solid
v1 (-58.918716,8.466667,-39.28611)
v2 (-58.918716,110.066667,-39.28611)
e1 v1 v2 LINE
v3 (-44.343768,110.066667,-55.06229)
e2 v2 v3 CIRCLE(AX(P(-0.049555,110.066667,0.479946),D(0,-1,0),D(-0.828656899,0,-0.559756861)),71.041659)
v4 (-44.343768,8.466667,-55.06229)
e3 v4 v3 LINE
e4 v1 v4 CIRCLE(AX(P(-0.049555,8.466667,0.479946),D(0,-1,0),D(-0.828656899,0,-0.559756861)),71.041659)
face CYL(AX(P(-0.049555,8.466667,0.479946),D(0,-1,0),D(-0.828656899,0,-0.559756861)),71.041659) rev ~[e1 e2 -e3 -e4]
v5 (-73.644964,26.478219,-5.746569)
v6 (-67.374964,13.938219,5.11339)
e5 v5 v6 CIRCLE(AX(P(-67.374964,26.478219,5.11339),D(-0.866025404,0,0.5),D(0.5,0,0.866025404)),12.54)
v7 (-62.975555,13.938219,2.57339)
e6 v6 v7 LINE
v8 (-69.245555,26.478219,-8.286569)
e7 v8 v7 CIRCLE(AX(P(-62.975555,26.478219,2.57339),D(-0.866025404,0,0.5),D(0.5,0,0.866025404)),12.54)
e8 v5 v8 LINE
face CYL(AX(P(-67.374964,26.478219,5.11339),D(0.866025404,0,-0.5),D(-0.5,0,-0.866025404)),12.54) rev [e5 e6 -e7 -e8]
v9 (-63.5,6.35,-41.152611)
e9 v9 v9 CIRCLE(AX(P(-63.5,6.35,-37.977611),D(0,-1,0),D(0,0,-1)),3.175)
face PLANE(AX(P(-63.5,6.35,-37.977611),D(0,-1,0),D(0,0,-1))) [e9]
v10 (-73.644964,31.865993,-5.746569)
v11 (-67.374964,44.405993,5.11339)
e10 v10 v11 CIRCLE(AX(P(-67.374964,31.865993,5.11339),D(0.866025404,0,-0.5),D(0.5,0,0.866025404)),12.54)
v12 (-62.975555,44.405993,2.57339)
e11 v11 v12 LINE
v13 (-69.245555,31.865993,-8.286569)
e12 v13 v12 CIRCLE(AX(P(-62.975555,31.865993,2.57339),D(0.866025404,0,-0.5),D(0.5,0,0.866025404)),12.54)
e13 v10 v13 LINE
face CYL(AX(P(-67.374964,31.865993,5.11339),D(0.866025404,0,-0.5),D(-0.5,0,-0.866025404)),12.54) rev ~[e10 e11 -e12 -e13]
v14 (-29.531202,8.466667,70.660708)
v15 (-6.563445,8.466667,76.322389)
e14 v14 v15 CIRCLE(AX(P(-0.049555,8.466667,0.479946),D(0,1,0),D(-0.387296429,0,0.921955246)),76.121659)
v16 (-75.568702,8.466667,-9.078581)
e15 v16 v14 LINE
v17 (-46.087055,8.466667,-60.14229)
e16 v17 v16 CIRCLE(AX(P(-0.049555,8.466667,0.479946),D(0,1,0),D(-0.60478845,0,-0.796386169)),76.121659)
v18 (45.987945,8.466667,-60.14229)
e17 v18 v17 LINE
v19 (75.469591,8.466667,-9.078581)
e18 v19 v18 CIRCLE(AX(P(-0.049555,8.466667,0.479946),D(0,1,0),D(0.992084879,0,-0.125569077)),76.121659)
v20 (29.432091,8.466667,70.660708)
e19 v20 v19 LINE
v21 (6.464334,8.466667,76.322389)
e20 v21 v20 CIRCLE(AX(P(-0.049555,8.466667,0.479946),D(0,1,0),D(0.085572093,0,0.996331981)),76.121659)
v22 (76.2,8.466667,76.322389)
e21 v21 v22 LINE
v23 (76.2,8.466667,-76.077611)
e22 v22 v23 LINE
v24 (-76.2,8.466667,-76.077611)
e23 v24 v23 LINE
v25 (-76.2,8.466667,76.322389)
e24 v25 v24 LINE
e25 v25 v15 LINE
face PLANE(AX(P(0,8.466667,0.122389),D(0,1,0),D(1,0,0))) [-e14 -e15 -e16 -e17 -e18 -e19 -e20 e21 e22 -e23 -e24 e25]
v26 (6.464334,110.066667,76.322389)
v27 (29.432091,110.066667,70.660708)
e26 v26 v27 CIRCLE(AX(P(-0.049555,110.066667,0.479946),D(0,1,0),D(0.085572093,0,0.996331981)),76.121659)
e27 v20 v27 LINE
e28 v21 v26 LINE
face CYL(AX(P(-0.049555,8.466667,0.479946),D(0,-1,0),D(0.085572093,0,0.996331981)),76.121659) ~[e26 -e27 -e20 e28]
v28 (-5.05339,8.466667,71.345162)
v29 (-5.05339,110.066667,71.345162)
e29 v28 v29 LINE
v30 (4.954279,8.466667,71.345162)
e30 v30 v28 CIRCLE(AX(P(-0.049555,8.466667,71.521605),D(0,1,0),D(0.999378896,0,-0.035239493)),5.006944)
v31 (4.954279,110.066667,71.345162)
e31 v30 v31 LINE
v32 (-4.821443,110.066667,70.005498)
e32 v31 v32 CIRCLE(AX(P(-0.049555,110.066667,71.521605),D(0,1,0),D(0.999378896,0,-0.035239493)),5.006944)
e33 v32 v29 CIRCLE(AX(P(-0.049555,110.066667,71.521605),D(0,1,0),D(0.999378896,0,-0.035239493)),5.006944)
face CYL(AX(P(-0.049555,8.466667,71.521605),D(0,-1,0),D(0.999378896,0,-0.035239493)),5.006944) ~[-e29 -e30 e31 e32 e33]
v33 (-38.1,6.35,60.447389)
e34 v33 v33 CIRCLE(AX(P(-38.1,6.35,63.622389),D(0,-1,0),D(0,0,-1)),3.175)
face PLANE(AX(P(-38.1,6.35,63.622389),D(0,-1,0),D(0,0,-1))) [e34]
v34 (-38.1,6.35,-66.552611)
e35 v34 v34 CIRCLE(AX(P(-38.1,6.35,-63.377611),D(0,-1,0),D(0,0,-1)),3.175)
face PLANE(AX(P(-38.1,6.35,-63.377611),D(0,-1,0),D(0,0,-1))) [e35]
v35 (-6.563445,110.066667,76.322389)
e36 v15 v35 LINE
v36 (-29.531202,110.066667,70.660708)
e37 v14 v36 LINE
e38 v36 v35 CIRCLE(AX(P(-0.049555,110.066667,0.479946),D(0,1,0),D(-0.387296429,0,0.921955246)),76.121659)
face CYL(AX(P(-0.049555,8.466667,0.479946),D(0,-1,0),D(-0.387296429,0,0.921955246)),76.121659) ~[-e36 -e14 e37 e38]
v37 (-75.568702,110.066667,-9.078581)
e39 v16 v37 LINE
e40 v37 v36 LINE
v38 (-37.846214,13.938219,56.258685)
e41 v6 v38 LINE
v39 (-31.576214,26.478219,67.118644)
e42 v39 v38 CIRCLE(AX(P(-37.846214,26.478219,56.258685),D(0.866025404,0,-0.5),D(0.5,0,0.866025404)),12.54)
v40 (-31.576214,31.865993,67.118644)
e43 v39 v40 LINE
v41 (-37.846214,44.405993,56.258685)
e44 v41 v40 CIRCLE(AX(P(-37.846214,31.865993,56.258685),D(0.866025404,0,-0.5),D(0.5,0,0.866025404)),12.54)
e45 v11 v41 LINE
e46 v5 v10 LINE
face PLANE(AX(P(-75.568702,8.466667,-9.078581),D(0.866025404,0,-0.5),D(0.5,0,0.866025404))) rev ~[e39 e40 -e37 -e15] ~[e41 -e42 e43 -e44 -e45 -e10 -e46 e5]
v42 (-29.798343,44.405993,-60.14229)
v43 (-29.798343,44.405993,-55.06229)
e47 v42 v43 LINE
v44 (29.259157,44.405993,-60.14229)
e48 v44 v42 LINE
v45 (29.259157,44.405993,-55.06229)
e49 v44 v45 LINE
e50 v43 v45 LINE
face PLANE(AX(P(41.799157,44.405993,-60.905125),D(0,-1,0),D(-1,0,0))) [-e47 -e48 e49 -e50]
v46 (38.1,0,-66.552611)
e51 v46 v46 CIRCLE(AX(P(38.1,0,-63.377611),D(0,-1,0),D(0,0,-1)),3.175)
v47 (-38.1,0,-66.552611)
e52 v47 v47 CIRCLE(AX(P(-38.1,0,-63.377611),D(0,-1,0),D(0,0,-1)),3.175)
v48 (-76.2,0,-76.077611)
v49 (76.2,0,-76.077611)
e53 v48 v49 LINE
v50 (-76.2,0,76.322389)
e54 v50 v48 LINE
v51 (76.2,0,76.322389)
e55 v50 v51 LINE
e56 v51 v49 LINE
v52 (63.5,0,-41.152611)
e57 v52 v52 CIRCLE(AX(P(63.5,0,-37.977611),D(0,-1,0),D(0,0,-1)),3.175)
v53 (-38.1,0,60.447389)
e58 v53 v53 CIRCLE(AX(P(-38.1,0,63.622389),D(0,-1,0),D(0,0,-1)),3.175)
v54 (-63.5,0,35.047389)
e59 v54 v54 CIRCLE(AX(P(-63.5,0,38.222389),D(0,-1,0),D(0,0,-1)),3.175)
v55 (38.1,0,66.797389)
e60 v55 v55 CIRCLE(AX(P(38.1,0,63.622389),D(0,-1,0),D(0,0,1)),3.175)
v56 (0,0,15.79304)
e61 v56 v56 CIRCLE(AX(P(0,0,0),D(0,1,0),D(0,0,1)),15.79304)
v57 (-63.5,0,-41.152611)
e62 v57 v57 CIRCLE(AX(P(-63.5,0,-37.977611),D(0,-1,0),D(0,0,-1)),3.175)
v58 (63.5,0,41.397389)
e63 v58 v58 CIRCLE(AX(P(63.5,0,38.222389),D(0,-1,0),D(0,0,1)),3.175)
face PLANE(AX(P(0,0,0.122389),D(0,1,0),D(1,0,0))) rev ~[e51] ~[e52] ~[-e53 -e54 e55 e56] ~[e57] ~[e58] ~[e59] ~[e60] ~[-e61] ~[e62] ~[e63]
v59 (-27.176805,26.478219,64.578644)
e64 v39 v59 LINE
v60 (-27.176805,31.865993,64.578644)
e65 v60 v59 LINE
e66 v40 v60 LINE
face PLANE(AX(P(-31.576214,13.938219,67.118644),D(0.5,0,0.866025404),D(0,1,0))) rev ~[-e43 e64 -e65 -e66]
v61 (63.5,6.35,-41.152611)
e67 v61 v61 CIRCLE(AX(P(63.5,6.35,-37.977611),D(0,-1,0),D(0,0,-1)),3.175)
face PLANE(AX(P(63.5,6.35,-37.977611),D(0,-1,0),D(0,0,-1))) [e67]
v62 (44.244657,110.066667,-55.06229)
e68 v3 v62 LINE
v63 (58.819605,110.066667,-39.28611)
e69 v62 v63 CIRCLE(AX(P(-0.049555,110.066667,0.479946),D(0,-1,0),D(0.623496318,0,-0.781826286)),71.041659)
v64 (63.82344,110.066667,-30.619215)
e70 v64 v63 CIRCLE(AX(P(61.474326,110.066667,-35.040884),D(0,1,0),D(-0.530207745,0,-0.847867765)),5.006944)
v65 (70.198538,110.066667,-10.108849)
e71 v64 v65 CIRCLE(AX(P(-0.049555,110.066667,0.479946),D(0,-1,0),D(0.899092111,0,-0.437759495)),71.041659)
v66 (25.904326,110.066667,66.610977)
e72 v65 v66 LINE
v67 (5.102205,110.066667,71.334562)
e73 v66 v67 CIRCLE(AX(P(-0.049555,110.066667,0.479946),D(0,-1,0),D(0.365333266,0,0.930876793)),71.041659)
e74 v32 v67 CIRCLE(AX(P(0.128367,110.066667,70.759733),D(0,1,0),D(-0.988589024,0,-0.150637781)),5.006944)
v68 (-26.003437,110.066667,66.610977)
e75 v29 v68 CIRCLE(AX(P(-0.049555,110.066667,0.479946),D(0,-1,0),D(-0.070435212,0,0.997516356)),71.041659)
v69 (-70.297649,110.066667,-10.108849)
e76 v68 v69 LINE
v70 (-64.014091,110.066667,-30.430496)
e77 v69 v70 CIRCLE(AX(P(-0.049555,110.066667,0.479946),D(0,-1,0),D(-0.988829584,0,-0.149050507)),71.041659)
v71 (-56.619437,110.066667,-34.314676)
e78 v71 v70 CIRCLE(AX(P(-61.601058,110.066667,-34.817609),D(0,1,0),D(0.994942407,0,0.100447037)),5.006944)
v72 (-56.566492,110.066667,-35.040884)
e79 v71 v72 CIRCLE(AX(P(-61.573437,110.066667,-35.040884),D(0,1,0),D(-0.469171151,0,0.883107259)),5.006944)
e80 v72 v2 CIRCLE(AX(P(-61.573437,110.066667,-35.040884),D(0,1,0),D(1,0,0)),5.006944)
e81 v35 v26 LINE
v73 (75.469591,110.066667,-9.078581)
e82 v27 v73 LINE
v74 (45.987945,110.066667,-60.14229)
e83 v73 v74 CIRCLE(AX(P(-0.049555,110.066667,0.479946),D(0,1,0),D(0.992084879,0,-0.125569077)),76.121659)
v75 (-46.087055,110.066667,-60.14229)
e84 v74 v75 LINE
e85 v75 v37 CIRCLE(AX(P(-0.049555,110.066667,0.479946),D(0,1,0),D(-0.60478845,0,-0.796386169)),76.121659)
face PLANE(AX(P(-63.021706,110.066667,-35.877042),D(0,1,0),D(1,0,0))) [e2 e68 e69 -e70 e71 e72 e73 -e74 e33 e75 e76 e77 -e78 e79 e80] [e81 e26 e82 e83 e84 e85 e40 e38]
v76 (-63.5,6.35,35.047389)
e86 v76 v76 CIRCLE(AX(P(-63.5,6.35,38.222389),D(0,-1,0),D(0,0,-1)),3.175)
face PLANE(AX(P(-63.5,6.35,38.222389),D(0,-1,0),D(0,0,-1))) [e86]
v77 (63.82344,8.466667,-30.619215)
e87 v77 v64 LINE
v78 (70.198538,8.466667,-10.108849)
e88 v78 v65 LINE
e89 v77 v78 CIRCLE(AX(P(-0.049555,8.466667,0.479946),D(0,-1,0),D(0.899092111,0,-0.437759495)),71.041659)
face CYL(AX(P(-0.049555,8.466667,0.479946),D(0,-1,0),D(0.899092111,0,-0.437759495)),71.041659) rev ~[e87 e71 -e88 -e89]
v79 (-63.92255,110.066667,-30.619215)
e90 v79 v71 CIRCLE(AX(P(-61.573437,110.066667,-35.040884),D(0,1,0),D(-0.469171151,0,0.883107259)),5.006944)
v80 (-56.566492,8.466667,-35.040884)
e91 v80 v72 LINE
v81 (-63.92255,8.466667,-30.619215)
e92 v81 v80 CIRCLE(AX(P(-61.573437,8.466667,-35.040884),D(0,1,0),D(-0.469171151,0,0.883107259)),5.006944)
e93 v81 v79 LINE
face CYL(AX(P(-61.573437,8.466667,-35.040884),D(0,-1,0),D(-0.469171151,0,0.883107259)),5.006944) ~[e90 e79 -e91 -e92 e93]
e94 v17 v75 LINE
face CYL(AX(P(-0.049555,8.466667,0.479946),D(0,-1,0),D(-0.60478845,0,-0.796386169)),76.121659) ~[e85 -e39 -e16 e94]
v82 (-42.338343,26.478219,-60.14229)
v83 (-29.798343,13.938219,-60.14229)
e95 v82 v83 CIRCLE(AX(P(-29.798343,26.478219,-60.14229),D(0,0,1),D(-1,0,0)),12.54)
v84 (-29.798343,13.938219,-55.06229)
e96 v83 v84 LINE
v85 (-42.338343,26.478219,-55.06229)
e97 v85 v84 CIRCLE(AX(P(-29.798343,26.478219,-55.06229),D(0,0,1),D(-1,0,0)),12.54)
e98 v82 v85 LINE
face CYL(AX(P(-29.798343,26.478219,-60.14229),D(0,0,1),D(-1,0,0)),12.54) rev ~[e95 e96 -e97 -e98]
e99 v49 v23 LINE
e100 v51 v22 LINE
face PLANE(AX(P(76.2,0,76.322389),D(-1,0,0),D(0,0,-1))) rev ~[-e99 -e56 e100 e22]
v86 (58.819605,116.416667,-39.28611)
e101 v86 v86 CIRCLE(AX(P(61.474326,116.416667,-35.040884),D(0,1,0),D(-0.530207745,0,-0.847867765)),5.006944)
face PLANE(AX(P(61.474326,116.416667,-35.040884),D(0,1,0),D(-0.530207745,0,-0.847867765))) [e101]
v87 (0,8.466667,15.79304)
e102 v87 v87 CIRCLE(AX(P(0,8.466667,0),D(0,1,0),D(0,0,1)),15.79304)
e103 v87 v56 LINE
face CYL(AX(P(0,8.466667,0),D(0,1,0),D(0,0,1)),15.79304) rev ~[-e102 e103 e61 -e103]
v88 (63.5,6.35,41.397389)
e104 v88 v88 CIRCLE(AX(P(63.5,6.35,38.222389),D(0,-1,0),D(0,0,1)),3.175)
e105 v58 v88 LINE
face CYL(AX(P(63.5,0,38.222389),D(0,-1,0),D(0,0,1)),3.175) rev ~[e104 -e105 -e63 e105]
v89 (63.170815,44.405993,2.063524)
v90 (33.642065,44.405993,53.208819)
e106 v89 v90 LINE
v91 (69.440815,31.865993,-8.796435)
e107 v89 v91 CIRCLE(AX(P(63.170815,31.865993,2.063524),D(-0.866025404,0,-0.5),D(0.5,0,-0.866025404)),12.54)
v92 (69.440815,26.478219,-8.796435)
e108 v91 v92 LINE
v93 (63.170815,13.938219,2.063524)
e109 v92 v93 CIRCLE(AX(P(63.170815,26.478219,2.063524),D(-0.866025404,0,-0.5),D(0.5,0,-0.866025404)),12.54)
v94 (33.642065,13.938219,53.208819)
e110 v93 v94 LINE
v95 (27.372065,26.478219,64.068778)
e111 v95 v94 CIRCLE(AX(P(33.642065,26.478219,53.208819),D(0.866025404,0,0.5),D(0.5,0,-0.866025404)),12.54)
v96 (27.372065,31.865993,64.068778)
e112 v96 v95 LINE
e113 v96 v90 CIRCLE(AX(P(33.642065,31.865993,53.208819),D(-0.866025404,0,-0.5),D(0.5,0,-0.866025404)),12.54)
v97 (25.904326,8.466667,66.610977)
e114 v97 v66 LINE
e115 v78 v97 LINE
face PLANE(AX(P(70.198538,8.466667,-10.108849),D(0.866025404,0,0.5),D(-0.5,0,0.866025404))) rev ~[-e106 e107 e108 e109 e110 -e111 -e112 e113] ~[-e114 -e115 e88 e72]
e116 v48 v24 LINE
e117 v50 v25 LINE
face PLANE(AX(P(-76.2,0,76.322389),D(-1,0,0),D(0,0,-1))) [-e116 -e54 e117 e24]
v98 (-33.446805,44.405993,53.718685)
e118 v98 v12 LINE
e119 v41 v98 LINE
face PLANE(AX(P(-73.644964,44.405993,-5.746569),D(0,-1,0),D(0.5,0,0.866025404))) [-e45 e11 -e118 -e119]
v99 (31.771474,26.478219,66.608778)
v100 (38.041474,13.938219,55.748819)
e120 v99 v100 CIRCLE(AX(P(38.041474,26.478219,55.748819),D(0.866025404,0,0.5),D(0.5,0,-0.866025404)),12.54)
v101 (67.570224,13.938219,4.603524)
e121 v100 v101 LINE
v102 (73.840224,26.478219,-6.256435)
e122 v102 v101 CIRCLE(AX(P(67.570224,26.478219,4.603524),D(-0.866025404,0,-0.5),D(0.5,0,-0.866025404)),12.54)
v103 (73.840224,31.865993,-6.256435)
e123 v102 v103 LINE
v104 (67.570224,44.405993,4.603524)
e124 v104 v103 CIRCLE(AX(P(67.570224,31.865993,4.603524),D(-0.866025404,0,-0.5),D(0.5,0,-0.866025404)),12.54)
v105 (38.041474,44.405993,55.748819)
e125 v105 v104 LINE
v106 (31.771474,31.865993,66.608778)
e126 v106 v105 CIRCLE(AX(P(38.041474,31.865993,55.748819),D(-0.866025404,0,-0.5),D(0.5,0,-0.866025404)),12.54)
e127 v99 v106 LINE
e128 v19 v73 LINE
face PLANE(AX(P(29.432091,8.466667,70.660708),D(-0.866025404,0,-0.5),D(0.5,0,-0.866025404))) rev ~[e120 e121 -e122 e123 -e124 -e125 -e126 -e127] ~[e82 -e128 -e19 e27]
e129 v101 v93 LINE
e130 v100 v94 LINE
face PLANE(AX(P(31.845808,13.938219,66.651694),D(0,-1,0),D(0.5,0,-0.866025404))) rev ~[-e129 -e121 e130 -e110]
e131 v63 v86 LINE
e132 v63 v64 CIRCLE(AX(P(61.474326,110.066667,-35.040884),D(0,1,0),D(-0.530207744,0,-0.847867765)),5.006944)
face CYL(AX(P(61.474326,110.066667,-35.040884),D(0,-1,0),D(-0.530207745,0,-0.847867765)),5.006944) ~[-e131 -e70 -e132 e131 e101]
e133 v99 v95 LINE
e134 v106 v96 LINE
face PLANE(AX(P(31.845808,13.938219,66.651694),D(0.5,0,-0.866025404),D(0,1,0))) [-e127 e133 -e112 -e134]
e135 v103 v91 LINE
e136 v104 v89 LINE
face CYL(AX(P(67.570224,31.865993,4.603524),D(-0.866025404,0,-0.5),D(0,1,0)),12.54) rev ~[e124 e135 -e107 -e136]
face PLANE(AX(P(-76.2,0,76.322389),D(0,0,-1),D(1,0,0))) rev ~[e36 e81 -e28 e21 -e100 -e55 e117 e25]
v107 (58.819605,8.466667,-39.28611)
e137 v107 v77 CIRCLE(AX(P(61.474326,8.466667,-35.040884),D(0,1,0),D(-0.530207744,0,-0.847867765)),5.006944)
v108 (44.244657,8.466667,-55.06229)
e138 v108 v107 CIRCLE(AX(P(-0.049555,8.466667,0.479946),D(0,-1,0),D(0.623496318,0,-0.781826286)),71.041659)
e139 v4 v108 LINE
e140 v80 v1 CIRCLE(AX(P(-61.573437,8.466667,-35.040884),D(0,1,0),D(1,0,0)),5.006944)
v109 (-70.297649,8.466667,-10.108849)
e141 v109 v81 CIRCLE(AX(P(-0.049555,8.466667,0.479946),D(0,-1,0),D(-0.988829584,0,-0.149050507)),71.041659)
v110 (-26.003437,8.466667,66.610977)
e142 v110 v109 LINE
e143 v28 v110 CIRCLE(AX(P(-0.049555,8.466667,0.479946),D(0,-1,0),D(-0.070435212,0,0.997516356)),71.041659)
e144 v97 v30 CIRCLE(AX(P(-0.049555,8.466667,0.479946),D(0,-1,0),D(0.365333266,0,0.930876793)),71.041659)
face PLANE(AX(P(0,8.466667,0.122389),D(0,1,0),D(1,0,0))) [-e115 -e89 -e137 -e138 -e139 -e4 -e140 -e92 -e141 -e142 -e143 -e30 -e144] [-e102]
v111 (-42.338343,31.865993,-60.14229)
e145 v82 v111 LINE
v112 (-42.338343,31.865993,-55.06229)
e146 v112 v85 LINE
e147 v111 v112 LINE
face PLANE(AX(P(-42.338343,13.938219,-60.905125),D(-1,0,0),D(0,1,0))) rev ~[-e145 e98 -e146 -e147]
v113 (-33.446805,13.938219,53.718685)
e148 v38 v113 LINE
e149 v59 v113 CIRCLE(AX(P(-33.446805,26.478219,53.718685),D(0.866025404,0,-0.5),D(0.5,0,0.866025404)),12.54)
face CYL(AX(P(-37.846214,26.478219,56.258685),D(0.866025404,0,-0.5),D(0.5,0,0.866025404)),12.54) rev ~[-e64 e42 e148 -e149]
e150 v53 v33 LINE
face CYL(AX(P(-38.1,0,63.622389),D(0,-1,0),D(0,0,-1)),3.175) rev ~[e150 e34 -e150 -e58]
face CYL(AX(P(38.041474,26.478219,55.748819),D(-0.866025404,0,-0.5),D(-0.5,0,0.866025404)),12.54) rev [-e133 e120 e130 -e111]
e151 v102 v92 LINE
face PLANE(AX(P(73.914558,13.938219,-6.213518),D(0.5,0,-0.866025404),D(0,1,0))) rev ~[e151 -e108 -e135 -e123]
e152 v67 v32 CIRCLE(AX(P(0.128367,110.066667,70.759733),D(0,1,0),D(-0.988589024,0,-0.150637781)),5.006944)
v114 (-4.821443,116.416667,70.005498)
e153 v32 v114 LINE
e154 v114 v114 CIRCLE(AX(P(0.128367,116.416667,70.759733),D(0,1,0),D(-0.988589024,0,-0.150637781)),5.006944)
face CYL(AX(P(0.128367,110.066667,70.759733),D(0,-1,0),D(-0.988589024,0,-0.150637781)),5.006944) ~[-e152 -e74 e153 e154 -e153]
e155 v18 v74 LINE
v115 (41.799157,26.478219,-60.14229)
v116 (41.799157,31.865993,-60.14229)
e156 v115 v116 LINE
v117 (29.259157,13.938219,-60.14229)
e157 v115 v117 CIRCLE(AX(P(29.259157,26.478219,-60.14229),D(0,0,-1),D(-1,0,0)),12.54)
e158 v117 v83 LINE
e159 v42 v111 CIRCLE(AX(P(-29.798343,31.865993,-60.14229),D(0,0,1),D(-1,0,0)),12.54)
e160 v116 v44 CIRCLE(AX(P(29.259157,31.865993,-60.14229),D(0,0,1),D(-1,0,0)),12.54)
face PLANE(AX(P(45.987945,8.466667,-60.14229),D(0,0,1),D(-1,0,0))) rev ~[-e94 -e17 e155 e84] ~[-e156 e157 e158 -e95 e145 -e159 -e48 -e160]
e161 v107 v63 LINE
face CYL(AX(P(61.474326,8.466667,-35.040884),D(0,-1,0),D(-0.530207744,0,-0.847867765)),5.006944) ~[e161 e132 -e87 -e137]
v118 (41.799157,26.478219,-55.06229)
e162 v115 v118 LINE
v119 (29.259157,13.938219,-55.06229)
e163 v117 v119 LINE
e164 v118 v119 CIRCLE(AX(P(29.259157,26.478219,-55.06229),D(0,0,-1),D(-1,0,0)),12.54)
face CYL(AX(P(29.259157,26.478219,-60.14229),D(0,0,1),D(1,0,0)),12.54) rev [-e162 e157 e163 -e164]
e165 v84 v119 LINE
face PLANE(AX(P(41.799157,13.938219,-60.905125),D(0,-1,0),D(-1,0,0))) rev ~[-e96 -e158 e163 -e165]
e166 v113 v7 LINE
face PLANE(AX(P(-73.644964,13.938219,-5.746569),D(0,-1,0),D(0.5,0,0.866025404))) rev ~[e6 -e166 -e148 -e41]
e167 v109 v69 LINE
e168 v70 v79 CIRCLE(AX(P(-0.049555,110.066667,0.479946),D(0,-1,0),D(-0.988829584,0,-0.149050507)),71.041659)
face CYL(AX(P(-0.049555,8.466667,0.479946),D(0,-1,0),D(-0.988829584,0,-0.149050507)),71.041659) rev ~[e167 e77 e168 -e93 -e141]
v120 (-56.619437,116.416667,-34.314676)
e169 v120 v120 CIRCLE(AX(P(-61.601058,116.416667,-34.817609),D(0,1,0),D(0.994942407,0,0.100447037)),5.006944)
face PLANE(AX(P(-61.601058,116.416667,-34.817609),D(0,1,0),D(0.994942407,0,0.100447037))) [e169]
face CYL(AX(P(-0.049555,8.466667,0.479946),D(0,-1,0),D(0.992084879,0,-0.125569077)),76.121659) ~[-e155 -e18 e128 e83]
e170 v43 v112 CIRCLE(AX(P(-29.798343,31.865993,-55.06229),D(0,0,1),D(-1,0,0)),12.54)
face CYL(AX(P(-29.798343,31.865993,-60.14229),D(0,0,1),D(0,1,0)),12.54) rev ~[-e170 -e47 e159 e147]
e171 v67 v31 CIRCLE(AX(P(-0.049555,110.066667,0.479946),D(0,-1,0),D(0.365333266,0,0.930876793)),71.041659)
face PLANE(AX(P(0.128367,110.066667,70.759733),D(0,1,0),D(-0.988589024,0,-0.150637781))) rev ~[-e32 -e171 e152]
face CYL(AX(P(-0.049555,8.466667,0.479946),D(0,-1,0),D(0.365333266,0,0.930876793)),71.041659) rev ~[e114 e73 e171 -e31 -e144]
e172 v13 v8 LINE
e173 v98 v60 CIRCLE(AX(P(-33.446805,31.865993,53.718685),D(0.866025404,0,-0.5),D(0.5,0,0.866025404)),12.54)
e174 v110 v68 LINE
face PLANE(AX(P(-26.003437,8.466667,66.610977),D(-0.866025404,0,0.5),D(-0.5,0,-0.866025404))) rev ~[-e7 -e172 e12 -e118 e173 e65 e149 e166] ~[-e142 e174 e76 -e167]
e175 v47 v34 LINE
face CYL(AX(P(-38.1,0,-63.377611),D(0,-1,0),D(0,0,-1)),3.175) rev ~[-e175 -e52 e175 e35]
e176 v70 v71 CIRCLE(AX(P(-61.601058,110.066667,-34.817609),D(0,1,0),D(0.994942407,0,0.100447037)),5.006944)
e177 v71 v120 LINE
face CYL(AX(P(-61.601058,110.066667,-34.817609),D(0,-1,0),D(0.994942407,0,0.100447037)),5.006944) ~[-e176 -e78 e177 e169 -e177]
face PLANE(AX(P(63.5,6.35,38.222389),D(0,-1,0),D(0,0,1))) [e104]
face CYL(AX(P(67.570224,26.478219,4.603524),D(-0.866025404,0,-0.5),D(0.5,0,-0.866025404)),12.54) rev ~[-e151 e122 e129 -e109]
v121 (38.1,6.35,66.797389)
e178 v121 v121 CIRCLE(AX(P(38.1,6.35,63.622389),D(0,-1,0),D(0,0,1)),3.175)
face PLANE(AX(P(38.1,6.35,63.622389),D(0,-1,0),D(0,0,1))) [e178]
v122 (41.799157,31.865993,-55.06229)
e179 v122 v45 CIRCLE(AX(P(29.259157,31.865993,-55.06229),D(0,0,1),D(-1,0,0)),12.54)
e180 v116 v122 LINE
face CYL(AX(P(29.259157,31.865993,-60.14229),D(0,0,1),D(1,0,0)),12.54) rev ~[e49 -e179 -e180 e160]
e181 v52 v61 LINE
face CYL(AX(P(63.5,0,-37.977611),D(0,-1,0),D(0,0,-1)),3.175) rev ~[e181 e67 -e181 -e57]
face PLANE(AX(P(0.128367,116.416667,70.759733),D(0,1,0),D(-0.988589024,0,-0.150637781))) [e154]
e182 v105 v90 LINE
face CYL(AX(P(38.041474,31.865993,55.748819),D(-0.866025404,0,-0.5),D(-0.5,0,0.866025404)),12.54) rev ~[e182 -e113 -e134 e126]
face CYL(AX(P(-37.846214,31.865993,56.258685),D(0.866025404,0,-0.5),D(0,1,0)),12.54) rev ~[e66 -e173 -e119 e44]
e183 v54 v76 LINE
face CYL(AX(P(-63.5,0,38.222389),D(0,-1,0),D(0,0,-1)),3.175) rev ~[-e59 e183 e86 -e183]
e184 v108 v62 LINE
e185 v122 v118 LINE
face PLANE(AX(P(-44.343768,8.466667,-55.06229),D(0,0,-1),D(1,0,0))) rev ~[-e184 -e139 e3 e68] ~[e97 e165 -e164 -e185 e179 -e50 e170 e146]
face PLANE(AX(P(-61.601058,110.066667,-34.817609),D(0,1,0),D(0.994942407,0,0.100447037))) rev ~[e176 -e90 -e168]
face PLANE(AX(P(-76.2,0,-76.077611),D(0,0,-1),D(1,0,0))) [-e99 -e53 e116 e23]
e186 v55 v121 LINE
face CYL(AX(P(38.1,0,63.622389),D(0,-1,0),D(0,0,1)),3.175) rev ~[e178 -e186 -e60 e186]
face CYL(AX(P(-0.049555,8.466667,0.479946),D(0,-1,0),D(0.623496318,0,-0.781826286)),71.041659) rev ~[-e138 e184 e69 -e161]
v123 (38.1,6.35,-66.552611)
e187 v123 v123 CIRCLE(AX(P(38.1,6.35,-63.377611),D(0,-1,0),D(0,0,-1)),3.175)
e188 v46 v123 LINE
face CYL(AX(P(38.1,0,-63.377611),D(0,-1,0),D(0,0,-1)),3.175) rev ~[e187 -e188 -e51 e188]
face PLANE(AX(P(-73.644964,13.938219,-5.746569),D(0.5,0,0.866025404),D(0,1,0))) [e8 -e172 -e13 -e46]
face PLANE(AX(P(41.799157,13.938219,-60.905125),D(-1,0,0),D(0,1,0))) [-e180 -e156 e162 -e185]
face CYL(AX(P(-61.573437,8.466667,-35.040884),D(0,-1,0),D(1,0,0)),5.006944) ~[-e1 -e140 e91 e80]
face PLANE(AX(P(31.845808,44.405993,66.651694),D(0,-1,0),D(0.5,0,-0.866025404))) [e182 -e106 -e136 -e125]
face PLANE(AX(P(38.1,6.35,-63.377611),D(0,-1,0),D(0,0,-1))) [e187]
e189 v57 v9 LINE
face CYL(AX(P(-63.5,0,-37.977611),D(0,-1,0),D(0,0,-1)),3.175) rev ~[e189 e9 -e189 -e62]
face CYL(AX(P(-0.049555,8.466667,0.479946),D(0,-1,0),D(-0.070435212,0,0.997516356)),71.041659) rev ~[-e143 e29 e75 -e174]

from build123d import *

# Parameters (mm, degrees)
SKETCH1_W                = 152.4
SKETCH1_H                = 152.4
BOSS_EXTRUDE1_DEPTH      = 8.466666667
BOSS_EXTRUDE3_DEPTH      = 101.6
SKETCH4_R                = 5.006944118
BOSS_EXTRUDE4_DEPTH      = 6.35
CUT_EXTRUDE1_REACH       = 205.785
SKETCH6_W                = 84.1375
SKETCH6_H                = 30.46777391
FILLET1_R                = 12.54
CIRPATTERN3_COUNT        = 3
FILLET1_OF_CIRPATTERN3_R = 12.54
SKETCH8_R                = 3.175
CUT_EXTRUDE2_DEPTH       = 6.35
SKETCH9_R                = 15.793040305
CUT_EXTRUDE4_DEPTH       = 153.593412515


with BuildPart() as part:
    # Sketch1 → Boss-Extrude1 (new body)
    with BuildSketch(Plane(origin=(0, 0, 0), x_dir=(1, 0, 0), z_dir=(0, 1, 0))):
        with Locations((0, -0.122388871)):
            Rectangle(SKETCH1_W, SKETCH1_H)
    extrude(amount=BOSS_EXTRUDE1_DEPTH)

    # Sketch3 → Boss-Extrude3 (add)
    with BuildSketch(Plane(origin=(0, 8.466666667, 0), x_dir=(1, 0, 0), z_dir=(0, 1, 0))):
        with BuildLine():
            ThreePointArc((-58.918716059, 39.286110084), (-65.909577408, 37.544355622), (-63.922550345, 30.619214868))
            ThreePointArc((-63.922550345, 30.619214868), (-61.573436607, 35.040883563), (-58.918716059, 39.286110084))
        make_face()
        with BuildLine():
            ThreePointArc((-58.918716059, 39.286110084), (-61.573436607, 35.040883563), (-63.922550345, 30.619214868))
            ThreePointArc((-63.922550345, 30.619214868), (-58.993939739, 30.749533507), (-56.566492489, 35.040883563))
            ThreePointArc((-56.566492489, 35.040883563), (-57.193851762, 37.467553294), (-58.918716059, 39.286110084))
        make_face()
        with BuildLine():
            Line((45.987944587, 60.142290401), (-46.087055413, 60.142290401))
            ThreePointArc((-46.087055413, 60.142290401), (-65.972845658, 37.580883563), (-75.568702003, 9.078580617))
            Line((-75.568702003, 9.078580617), (-29.531202003, -70.660708437))
            ThreePointArc((-29.531202003, -70.660708437), (-18.268592558, -74.38917131), (-6.563445111, -76.322388871))
            Line((-6.563445111, -76.322388871), (-1.471511547, -76.322388871))
            ThreePointArc((-1.471511547, -76.322388871), (-4.113530257, -74.446258004), (-5.053389698, -71.345162371))
            ThreePointArc((-5.053389698, -71.345162371), (-15.708360105, -69.77438362), (-26.003436632, -66.610977296))
            Line((-26.003436632, -66.610977296), (-70.297649271, 10.108849476))
            ThreePointArc((-70.297649271, 10.108849476), (-67.889701246, 20.606350444), (-63.922550345, 30.619214868))
            ThreePointArc((-63.922550345, 30.619214868), (-65.909577408, 37.544355622), (-58.918716059, 39.286110084))
            ThreePointArc((-58.918716059, 39.286110084), (-52.230896554, 47.728195757), (-44.343768052, 55.062290401))
            Line((-44.343768052, 55.062290401), (44.244657227, 55.062290401))
            ThreePointArc((44.244657227, 55.062290401), (52.131785728, 47.728195757), (58.819605234, 39.286110084))
            ThreePointArc((58.819605234, 39.286110084), (63.900995513, 39.420468408), (66.481269899, 35.040883563))
            ThreePointArc((66.481269899, 35.040883563), (65.765675838, 32.461386695), (63.823439519, 30.619214868))
            ThreePointArc((63.823439519, 30.619214868), (67.790590421, 20.606350444), (70.198538446, 10.108849476))
            Line((70.198538446, 10.108849476), (25.904325806, -66.610977296))
            ThreePointArc((25.904325806, -66.610977296), (15.60924928, -69.77438362), (4.954278873, -71.345162371))
            ThreePointArc((4.954278873, -71.345162371), (4.956611187, -71.433369756), (4.957388705, -71.521604544))
            ThreePointArc((4.957388705, -71.521604544), (3.962248689, -74.517421169), (1.372400721, -76.322388871))
            Line((1.372400721, -76.322388871), (6.464334286, -76.322388871))
            ThreePointArc((6.464334286, -76.322388871), (18.169481733, -74.38917131), (29.432091177, -70.660708437))
            Line((29.432091177, -70.660708437), (75.469591177, 9.078580617))
            ThreePointArc((75.469591177, 9.078580617), (65.873734833, 37.580883563), (45.987944587, 60.142290401))
        make_face()
        with BuildLine():
            ThreePointArc((4.954278873, -71.345162371), (-0.049555413, -66.514660427), (-5.053389698, -71.345162371))
            ThreePointArc((-5.053389698, -71.345162371), (-0.049555413, -71.521604544), (4.954278873, -71.345162371))
        make_face()
        with BuildLine():
            ThreePointArc((-5.053389698, -71.345162371), (-4.113530257, -74.446258004), (-1.471511547, -76.322388871))
            Line((-1.471511547, -76.322388871), (1.372400721, -76.322388871))
            ThreePointArc((1.372400721, -76.322388871), (3.962248689, -74.517421169), (4.957388705, -71.521604544))
            ThreePointArc((4.957388705, -71.521604544), (4.956611187, -71.433369756), (4.954278873, -71.345162371))
            ThreePointArc((4.954278873, -71.345162371), (-0.049555413, -71.521604544), (-5.053389698, -71.345162371))
        make_face()
        with BuildLine():
            ThreePointArc((58.819605234, 39.286110084), (57.13818498, 32.537411504), (63.823439519, 30.619214868))
            ThreePointArc((63.823439519, 30.619214868), (61.474325782, 35.040883563), (58.819605234, 39.286110084))
        make_face()
        with BuildLine():
            ThreePointArc((58.819605234, 39.286110084), (61.474325782, 35.040883563), (63.823439519, 30.619214868))
            ThreePointArc((63.823439519, 30.619214868), (65.765675838, 32.461386695), (66.481269899, 35.040883563))
            ThreePointArc((66.481269899, 35.040883563), (63.900995513, 39.420468408), (58.819605234, 39.286110084))
        make_face()
    extrude(amount=BOSS_EXTRUDE3_DEPTH)

    # Sketch4 → Boss-Extrude4 (add)
    with BuildSketch(Plane(origin=(0, 110.066666667, 0), x_dir=(1, 0, 0), z_dir=(0, 1, 0))):
        with Locations(Location((61.474325782, 35.040883563, 0), (0, 0, 122.019492362))):
            Circle(SKETCH4_R)
        with Locations(Location((0.128367161, -70.759732709, 0), (0, 0, 171.336111326))):
            Circle(SKETCH4_R)
        with Locations(Location((-61.601057978, 34.817609153, 0), (0, 0, 354.23508657))):
            Circle(SKETCH4_R)
    extrude(amount=BOSS_EXTRUDE4_DEPTH)

    # Sketch6 → Cut-Extrude1 (cut, up to next)
    with BuildSketch(Plane(origin=(-52.74538578, 0, 30.452562679), x_dir=(0.5, 0, 0.8660254037844386), z_dir=(-0.8660254037844387, 0, 0.5000000000000001)), mode=Mode.PRIVATE) as cut_extrude1_sk1:
        with Locations((0.269593494, 29.172106293)):
            Rectangle(SKETCH6_W, SKETCH6_H)
    cut_extrude1_tool1 = extrude(cut_extrude1_sk1.sketch, amount=-CUT_EXTRUDE1_REACH, mode=Mode.PRIVATE) & part.part
    cut_extrude1 = cut_extrude1_tool1.solids().sort_by_distance((-52.610589, 29.172106, 30.686037))[0]
    add(cut_extrude1, mode=Mode.SUBTRACT)

    # Fillet1
    fillet1_edges = [part.edges().sort_by_distance(p)[0] for p in [
        (-29.376509507, 44.405993248, 65.848643698),
        (-29.376509507, 13.938219338, 65.848643698),
        (-71.445259507, 13.938219338, -7.016568713),
        (-71.445259507, 44.405993248, -7.016568713),
    ]]
    fillet(fillet1_edges, radius=FILLET1_R)

    # CirPattern3: Cut-Extrude1; each copy of Cut-Extrude1 runs up to whatever stops it at its own place
    cirpattern3_before = part.part  # the part as the pattern finds it: every copy runs up to it
    cirpattern3_cut_extrude1_long = extrude(cut_extrude1_sk1.sketch, amount=-CUT_EXTRUDE1_REACH, mode=Mode.PRIVATE)
    cirpattern3_cut_extrude1_tool1 = cirpattern3_cut_extrude1_long.rotate(Axis((0, 0, 0), (0, 1, 0)), 1 * 360 / CIRPATTERN3_COUNT) & cirpattern3_before
    add(cirpattern3_cut_extrude1_tool1.solids().sort_by_distance((52.880182, 29.172106, 30.219088))[0], mode=Mode.SUBTRACT)
    cirpattern3_cut_extrude1_tool2 = cirpattern3_cut_extrude1_long.rotate(Axis((0, 0, 0), (0, 1, 0)), 2 * 360 / CIRPATTERN3_COUNT) & cirpattern3_before
    add(cirpattern3_cut_extrude1_tool2.solids().sort_by_distance((-0.269593, 29.172106, -60.905125))[0], mode=Mode.SUBTRACT)

    # Fillet1 of CirPattern3
    fillet1_of_cirpattern3_edges = [part.edges().sort_by_distance(p)[0] for p in [
        (71.714853001, 44.405993248, -7.483518341),
        (71.714853001, 13.938219338, -7.483518341),
        (29.646103001, 13.938219338, 65.38169407),
        (29.646103001, 44.405993248, 65.38169407),
        (-42.338343494, 44.405993248, -58.365125357),
        (-42.338343494, 13.938219338, -58.365125357),
        (41.799156506, 13.938219338, -58.365125357),
        (41.799156506, 44.405993248, -58.365125357),
    ]]
    fillet(fillet1_of_cirpattern3_edges, radius=FILLET1_OF_CIRPATTERN3_R)

    # Sketch8 → Cut-Extrude2 (cut)
    with BuildSketch(Plane(origin=(0, 0, 0), x_dir=(-1, 0, 0), z_dir=(0, -1, 0))):
        with Locations(Location((63.5, -38.222388871, 0), (0, 0, 90))):
            Circle(SKETCH8_R)
        with Locations(Location((38.1, -63.622388871, 0), (0, 0, 90))):
            Circle(SKETCH8_R)
        with Locations(Location((-63.5, -38.222388871, 0), (0, 0, 270))):
            Circle(SKETCH8_R)
        with Locations(Location((-38.1, -63.622388871, 0), (0, 0, 270))):
            Circle(SKETCH8_R)
        with Locations(Location((63.5, 37.977611129, 0), (0, 0, 90))):
            Circle(SKETCH8_R)
        with Locations(Location((38.1, 63.377611129, 0), (0, 0, 90))):
            Circle(SKETCH8_R)
        with Locations(Location((-38.1, 63.377611129, 0), (0, 0, 90))):
            Circle(SKETCH8_R)
        with Locations(Location((-63.5, 37.977611129, 0), (0, 0, 90))):
            Circle(SKETCH8_R)
    extrude(amount=-CUT_EXTRUDE2_DEPTH, mode=Mode.SUBTRACT)

    # Sketch9 → Cut-Extrude4 (cut, through all)
    with BuildSketch(Plane(origin=(0, 8.466666667, 0), x_dir=(1, 0, 0), z_dir=(0, 1, 0))):
        with Locations(Location((0, 0, 0), (0, 0, 270))):
            Circle(SKETCH9_R)
    extrude(amount=-CUT_EXTRUDE4_DEPTH, mode=Mode.SUBTRACT)


solid = part.part
